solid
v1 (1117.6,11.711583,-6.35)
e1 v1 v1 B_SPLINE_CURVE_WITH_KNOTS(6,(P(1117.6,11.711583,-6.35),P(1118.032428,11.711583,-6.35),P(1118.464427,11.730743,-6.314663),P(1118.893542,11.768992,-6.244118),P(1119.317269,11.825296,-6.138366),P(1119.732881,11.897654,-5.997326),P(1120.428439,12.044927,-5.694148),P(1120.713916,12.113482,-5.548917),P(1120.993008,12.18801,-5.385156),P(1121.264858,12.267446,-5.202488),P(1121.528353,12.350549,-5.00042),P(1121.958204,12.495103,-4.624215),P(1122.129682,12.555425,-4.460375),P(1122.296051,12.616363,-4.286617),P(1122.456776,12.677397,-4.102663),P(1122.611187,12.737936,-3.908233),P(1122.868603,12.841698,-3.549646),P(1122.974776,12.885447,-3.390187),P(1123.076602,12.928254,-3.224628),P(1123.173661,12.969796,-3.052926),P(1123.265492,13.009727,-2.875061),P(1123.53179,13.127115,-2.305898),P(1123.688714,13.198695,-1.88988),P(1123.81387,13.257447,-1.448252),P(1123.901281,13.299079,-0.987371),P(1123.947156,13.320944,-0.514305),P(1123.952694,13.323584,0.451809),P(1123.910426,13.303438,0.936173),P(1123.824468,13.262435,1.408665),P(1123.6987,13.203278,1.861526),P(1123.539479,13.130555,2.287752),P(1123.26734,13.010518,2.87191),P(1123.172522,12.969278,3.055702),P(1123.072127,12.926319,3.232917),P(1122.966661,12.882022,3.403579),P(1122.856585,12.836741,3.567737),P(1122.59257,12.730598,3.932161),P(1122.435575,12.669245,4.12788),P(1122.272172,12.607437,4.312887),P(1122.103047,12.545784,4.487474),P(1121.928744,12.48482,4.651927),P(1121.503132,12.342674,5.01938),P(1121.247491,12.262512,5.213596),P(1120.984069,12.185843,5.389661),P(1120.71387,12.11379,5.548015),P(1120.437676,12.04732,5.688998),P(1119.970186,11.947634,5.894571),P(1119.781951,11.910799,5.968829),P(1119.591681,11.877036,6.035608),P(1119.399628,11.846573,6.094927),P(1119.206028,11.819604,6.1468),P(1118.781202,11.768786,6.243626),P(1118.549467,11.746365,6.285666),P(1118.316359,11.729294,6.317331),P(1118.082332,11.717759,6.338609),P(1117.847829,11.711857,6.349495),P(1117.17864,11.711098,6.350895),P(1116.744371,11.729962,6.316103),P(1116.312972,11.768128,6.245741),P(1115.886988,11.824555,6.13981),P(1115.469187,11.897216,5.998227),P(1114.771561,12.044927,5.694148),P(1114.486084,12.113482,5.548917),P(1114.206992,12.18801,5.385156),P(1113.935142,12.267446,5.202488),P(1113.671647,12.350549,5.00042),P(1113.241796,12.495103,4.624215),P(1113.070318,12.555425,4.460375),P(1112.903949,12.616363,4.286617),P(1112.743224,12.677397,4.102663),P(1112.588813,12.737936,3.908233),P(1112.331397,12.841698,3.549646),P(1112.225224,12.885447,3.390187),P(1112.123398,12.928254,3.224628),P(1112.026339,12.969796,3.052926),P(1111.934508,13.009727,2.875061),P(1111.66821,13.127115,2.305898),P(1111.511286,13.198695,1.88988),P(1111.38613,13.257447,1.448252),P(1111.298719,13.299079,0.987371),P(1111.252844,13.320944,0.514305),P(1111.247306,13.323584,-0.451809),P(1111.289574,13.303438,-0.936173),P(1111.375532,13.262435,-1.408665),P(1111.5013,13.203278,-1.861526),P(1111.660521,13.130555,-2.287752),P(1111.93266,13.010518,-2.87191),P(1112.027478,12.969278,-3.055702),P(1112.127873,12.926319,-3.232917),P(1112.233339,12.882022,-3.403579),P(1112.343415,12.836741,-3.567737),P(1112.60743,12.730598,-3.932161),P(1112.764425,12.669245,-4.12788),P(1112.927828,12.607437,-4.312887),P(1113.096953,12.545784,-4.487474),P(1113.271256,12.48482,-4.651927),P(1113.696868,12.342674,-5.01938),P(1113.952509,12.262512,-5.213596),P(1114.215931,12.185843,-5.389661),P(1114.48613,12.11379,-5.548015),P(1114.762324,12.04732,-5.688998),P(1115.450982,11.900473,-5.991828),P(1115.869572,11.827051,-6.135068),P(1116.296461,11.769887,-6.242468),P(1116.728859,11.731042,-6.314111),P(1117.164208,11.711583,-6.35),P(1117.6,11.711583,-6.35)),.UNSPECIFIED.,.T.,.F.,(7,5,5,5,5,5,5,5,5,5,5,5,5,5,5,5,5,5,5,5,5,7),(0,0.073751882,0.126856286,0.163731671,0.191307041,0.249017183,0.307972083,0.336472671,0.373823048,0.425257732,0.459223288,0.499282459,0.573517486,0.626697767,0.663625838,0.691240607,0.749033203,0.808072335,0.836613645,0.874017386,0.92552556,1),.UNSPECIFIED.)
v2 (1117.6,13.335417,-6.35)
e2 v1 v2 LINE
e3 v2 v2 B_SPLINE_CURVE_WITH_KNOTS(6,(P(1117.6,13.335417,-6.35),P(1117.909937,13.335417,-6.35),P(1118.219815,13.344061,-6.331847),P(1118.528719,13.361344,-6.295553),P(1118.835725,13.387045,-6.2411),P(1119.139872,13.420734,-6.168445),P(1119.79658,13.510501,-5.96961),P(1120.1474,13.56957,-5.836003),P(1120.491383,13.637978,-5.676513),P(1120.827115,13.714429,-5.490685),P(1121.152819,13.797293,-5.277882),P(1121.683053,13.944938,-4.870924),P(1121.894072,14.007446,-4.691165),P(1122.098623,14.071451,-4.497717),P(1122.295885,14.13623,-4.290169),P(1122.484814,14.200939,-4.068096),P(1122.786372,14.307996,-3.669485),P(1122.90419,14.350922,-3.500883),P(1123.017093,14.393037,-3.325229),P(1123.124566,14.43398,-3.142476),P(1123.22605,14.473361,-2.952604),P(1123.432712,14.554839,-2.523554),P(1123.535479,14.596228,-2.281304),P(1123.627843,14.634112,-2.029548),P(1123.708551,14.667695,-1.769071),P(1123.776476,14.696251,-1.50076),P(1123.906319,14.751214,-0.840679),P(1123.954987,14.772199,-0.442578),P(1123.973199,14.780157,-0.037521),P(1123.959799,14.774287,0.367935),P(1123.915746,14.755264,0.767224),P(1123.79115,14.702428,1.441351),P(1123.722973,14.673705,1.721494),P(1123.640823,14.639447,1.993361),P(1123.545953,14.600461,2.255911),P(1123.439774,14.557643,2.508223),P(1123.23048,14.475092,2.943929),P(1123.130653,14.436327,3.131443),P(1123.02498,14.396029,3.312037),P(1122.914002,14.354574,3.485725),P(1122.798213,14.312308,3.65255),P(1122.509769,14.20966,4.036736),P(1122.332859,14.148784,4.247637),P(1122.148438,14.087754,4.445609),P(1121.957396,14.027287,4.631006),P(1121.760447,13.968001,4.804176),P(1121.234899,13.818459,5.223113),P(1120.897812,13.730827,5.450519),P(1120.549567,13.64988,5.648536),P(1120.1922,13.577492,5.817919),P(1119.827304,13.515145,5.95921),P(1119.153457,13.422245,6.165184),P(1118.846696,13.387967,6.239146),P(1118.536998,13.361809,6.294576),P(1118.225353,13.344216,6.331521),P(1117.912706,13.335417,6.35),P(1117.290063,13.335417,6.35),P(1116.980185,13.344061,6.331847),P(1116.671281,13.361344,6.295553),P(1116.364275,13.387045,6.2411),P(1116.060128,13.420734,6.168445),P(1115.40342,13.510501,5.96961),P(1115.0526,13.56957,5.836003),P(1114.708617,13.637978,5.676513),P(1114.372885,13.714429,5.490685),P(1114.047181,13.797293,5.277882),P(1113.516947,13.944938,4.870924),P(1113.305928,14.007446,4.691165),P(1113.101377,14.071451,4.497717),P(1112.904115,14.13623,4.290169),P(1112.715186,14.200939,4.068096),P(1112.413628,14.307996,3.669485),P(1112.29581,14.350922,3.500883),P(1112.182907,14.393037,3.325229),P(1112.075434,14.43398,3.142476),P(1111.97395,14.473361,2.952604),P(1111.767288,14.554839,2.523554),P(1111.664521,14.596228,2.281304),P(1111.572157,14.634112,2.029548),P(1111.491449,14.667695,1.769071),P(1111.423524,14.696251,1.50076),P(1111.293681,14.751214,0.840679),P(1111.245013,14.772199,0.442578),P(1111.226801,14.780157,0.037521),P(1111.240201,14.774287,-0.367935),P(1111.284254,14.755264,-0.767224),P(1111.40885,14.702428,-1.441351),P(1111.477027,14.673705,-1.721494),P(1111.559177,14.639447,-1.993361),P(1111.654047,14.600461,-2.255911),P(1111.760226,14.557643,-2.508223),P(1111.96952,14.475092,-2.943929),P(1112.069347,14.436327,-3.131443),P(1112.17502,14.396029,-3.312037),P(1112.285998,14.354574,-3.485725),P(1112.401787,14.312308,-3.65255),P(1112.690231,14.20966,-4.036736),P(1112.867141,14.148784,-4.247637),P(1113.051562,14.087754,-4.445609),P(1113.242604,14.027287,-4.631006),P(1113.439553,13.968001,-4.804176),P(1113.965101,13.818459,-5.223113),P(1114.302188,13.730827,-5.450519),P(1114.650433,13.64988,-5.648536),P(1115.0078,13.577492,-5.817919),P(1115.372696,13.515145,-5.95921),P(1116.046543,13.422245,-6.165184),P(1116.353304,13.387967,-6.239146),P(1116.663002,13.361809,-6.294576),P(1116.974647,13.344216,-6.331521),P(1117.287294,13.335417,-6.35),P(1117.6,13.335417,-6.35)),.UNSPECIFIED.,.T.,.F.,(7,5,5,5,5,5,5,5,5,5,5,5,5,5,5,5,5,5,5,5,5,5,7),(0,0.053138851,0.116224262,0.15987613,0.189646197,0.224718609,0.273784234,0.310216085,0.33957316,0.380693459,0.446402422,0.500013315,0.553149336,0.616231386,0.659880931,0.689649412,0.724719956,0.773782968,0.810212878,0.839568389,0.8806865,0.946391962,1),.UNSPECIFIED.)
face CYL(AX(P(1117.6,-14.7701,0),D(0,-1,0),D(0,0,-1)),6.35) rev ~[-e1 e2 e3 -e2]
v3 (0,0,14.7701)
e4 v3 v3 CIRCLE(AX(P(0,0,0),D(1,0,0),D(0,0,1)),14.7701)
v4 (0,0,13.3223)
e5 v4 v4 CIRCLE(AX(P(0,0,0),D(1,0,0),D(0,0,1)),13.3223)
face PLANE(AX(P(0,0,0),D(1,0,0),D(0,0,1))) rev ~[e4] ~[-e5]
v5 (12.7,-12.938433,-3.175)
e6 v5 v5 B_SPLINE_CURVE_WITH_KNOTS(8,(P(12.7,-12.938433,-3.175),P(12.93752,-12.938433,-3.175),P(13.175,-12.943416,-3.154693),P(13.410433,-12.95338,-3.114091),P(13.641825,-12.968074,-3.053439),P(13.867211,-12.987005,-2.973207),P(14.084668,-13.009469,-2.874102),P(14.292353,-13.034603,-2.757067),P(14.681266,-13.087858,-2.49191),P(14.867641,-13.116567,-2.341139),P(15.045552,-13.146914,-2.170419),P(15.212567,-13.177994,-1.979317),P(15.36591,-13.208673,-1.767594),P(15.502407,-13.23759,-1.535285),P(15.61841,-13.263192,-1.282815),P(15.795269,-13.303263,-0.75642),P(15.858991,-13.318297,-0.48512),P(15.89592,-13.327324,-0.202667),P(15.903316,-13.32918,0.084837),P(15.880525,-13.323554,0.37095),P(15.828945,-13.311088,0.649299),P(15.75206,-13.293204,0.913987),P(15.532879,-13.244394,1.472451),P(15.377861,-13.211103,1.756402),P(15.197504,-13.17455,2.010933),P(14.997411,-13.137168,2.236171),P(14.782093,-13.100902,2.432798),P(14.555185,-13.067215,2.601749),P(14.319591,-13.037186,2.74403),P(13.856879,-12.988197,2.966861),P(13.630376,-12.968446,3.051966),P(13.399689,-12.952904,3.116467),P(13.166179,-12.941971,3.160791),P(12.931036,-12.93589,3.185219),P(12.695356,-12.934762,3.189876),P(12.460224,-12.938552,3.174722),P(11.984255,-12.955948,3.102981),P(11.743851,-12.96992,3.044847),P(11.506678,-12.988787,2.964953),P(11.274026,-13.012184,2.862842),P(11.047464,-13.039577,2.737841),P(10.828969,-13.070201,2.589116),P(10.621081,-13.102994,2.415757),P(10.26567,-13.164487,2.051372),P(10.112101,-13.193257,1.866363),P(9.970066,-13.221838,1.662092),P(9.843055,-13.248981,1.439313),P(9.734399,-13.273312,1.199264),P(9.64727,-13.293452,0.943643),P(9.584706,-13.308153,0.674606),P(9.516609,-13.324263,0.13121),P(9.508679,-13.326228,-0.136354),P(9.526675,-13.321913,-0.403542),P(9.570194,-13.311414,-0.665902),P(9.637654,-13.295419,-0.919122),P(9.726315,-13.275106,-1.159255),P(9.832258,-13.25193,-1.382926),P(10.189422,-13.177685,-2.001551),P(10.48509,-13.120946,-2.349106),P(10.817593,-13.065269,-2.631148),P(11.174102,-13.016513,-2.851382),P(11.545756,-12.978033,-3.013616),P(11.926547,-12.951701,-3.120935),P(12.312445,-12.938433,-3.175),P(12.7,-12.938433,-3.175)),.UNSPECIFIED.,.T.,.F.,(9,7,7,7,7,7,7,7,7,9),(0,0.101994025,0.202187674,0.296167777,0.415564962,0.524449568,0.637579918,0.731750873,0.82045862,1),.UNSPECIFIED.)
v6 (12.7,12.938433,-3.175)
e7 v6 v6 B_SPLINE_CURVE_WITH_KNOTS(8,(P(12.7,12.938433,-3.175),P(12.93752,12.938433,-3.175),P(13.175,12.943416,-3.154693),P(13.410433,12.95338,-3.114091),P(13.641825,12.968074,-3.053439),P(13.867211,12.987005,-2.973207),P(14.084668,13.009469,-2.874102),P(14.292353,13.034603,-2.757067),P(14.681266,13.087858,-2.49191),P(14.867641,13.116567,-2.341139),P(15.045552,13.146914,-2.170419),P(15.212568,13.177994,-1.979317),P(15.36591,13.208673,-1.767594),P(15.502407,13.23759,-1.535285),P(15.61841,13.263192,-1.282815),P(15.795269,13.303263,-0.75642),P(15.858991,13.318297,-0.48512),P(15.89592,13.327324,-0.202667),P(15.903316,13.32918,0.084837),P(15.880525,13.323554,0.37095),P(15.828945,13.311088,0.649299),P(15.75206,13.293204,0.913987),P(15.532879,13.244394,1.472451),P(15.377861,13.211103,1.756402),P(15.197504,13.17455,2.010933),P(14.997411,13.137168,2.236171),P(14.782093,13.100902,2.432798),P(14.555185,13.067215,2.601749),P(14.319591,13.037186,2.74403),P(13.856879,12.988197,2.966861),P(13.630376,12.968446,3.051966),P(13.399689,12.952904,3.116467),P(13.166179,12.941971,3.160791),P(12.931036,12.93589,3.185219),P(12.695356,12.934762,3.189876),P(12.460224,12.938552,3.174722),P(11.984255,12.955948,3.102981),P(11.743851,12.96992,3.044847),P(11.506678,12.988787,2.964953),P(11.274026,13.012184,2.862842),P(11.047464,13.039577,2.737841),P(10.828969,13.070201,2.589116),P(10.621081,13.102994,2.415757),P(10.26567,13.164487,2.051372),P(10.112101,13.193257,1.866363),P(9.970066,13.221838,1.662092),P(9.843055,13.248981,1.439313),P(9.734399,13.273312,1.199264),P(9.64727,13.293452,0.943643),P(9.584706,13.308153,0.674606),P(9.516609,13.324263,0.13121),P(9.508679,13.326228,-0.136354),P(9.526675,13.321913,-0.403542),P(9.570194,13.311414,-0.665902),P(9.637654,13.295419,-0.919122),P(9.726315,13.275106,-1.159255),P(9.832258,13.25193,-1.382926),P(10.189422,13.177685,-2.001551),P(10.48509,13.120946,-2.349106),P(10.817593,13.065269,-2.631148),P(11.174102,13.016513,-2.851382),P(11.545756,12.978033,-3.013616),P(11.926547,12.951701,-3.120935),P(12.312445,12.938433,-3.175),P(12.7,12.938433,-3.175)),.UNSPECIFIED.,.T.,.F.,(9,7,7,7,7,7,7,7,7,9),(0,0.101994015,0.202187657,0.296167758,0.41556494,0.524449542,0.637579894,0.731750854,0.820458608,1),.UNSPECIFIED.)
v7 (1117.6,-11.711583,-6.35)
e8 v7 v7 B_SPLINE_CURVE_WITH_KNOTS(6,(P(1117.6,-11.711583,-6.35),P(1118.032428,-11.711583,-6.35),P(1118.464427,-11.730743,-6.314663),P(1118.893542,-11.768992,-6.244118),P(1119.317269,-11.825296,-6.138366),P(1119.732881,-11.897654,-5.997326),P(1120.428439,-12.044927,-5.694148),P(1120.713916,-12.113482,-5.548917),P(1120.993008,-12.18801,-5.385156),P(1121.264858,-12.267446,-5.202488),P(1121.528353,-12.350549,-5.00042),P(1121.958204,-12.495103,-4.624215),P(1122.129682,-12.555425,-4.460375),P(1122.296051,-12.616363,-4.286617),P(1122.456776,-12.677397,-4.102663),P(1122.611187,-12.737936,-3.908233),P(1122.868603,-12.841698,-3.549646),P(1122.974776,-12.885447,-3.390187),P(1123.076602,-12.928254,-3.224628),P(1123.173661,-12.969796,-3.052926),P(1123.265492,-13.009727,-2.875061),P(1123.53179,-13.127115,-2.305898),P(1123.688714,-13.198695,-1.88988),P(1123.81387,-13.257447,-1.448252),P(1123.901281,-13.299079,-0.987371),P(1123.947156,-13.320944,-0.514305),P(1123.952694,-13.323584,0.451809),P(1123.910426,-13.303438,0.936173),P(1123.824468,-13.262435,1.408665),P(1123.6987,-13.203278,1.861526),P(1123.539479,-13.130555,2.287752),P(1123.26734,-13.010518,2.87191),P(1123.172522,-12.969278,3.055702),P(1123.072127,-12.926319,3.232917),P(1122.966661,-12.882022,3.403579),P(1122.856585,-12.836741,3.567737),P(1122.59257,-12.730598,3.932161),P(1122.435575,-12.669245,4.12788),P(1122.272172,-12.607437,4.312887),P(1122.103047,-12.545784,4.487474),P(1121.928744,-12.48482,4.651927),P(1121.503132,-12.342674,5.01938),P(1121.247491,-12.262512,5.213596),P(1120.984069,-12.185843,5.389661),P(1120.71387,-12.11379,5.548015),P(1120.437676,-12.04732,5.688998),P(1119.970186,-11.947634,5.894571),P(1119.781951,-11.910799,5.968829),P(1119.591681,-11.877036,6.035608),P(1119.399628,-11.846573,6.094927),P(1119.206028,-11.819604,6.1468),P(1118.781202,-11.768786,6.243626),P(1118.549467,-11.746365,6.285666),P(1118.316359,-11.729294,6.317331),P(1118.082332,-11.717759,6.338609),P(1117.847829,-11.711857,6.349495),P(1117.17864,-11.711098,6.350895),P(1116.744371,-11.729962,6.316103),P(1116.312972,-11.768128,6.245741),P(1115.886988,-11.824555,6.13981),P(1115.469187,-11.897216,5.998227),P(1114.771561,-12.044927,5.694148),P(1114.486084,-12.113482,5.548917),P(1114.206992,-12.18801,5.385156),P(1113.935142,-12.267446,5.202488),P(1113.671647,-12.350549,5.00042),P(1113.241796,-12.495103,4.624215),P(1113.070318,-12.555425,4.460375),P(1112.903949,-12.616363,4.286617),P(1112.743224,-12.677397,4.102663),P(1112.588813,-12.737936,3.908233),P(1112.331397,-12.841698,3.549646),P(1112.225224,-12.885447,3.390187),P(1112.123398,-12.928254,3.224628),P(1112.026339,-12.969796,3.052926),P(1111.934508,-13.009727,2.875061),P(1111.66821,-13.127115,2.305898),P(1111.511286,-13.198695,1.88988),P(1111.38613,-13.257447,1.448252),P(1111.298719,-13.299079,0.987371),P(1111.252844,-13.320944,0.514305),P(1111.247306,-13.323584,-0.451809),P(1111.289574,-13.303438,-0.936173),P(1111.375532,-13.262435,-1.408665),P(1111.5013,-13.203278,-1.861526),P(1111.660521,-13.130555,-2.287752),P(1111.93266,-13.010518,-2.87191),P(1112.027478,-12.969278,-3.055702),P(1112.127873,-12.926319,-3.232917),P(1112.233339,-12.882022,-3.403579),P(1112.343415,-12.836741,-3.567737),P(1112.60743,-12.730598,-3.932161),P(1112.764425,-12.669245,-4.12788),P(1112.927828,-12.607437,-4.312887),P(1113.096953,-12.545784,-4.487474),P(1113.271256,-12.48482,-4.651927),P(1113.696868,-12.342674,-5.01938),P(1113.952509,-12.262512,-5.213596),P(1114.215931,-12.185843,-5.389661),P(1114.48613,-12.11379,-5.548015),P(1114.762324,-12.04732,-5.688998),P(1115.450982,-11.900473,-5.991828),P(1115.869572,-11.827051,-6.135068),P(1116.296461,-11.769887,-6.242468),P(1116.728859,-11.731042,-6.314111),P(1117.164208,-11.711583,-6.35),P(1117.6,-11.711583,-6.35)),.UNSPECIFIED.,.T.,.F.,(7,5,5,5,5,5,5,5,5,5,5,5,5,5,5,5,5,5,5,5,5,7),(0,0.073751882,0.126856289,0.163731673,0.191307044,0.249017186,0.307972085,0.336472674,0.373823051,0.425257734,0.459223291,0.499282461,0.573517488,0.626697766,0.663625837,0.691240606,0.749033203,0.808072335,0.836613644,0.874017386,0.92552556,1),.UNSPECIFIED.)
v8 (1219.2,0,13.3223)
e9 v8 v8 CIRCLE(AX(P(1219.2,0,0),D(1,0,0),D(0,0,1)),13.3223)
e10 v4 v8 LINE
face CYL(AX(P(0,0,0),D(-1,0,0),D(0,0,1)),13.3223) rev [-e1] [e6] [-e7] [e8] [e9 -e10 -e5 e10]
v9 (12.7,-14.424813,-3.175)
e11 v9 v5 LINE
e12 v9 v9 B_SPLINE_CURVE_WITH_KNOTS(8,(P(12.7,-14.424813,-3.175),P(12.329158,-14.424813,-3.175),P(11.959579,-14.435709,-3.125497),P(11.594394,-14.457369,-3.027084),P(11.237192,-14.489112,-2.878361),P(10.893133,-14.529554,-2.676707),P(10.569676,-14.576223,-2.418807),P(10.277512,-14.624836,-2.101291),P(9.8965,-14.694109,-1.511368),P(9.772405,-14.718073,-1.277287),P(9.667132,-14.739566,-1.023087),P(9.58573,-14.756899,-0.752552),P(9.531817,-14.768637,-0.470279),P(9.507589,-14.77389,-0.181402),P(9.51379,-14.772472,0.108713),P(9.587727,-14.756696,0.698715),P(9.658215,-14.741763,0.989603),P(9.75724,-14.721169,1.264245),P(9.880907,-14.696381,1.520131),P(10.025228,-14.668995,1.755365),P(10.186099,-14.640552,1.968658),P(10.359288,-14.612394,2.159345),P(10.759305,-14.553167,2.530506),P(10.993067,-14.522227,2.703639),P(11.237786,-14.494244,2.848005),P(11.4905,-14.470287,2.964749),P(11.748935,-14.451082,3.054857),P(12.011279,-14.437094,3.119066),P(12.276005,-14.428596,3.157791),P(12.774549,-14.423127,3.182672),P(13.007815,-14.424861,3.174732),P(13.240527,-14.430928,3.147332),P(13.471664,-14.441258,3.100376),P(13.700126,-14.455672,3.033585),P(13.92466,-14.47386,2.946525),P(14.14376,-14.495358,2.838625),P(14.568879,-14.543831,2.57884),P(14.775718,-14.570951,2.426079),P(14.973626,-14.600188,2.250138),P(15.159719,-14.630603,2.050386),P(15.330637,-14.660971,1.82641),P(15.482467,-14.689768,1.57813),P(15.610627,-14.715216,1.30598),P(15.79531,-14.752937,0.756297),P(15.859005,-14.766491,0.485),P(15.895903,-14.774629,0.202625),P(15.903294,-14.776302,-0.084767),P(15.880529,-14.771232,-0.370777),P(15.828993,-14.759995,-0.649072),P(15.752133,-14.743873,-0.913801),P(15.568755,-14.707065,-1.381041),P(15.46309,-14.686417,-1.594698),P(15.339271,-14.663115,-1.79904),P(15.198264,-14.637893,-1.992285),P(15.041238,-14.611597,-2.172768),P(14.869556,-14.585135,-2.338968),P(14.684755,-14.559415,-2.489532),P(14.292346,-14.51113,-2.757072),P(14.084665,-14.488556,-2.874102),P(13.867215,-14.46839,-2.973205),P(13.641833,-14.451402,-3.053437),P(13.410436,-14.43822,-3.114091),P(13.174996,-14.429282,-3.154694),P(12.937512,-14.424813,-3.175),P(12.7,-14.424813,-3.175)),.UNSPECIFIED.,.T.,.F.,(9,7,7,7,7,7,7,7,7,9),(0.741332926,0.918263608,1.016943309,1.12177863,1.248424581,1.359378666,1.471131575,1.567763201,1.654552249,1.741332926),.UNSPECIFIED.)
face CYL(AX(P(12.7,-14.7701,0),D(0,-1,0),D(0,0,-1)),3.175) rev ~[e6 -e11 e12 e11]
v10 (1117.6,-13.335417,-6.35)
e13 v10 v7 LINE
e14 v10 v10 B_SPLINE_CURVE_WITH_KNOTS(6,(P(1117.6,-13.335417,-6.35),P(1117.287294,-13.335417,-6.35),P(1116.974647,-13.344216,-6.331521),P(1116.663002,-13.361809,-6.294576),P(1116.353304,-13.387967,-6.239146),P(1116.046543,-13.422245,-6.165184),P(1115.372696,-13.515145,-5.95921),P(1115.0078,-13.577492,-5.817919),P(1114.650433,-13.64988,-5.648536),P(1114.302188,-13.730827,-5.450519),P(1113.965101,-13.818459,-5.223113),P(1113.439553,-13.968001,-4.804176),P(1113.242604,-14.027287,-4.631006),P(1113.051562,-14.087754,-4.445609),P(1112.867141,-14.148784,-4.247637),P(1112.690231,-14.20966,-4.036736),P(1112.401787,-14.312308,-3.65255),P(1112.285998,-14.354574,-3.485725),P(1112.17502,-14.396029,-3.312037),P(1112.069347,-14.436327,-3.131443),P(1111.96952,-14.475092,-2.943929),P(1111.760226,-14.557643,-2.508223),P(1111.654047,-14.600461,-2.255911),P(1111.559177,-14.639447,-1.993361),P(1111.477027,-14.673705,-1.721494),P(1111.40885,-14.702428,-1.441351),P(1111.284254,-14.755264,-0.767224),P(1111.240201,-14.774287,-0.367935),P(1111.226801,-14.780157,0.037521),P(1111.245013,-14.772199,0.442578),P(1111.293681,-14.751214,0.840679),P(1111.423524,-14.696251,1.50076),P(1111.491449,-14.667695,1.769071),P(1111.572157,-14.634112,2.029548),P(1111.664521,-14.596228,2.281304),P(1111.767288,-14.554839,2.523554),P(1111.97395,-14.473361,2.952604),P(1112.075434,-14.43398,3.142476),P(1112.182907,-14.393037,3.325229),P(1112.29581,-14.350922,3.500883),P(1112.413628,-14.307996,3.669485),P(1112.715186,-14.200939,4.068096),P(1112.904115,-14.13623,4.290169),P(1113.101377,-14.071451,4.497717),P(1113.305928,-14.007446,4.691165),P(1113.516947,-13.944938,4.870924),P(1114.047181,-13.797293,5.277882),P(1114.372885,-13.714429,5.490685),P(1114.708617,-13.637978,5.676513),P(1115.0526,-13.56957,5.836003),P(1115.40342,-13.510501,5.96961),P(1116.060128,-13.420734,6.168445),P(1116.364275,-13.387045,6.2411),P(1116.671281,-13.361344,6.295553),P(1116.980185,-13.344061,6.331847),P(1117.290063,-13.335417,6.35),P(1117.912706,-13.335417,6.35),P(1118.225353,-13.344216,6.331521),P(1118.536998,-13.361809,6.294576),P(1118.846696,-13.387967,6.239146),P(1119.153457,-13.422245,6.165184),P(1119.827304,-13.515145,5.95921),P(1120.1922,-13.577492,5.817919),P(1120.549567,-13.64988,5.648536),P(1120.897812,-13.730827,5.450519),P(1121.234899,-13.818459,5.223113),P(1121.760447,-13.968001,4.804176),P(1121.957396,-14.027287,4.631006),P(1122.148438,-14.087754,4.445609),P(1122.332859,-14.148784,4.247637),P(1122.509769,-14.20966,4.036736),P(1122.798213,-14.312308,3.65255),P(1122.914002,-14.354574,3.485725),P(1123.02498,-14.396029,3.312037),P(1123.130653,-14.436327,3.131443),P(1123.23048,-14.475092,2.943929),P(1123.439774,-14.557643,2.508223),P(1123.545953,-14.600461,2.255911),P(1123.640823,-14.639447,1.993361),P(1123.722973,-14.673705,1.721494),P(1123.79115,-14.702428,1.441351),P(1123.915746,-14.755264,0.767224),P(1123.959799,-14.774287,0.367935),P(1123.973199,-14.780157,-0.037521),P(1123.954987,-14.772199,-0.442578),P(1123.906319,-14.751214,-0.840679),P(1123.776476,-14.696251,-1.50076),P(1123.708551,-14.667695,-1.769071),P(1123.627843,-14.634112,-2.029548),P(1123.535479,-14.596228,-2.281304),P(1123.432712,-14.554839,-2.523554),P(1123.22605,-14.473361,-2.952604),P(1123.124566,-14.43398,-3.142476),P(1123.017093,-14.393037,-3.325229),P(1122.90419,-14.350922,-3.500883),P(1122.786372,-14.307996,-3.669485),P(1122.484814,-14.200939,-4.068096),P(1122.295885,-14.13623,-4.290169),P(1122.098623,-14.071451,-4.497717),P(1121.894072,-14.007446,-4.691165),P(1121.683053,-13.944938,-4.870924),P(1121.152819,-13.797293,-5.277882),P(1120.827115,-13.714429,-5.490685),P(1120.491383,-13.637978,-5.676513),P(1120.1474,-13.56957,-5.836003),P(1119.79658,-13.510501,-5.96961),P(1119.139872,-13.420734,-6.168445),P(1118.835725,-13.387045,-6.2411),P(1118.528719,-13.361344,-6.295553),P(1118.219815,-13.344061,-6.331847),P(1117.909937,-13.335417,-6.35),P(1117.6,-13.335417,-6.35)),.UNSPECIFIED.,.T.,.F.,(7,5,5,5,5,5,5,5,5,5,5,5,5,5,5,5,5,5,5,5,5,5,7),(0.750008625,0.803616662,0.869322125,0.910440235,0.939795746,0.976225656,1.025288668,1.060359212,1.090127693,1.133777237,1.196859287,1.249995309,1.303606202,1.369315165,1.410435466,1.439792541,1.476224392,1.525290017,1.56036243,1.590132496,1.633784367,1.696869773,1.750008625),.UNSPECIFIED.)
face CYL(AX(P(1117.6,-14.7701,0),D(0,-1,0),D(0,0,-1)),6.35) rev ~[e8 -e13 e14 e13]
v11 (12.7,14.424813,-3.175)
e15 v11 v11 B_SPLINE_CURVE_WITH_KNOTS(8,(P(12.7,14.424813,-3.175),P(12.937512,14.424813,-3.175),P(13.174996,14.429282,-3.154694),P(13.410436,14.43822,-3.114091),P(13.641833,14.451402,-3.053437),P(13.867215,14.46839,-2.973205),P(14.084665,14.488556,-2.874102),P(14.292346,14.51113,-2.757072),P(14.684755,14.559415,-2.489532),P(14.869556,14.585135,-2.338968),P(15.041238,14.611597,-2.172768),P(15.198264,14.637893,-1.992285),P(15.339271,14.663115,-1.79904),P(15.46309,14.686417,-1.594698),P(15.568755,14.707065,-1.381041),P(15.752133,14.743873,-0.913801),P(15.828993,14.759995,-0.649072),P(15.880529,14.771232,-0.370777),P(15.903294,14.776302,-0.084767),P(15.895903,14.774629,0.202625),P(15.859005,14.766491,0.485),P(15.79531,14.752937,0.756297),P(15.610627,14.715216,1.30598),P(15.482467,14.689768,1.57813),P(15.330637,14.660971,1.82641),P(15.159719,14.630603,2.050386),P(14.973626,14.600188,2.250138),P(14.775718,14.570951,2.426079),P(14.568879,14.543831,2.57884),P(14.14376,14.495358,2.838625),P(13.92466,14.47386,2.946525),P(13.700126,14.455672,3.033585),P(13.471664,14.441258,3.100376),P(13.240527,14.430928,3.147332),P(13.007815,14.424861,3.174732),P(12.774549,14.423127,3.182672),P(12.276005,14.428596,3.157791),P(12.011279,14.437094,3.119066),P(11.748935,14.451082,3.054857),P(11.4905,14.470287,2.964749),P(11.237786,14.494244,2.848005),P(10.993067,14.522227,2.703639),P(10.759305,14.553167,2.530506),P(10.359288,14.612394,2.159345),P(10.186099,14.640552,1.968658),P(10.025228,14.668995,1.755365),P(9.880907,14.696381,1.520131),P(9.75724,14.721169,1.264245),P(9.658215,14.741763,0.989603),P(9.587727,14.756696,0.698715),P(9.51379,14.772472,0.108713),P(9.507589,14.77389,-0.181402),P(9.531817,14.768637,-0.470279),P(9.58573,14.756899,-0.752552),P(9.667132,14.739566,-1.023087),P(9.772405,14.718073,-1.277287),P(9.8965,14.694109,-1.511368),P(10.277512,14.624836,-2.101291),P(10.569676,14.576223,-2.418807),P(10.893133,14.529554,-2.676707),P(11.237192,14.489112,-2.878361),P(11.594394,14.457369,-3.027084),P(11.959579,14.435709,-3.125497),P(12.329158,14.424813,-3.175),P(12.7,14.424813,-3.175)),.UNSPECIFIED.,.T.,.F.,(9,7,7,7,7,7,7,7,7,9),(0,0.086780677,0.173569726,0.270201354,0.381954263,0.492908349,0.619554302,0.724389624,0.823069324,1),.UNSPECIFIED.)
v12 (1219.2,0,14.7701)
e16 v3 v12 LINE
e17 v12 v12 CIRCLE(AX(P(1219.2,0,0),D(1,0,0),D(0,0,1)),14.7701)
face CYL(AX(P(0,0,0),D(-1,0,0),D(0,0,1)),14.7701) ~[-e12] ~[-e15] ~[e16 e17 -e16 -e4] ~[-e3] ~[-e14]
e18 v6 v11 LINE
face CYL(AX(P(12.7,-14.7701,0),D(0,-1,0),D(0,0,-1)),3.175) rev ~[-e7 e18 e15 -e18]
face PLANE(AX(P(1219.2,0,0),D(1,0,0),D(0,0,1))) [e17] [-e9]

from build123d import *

# Parameters (mm, degrees)
SKETCH3_R           = 14.7701
SKETCH3_R_2         = 13.3223
BOSS_EXTRUDE1_DEPTH = 1219.2
SKETCH6_R           = 6.35
SKETCH6_R_2         = 3.175
CUT_EXTRUDE2_DEPTH  = 1220.647251983


with BuildPart() as part:
    # Sketch3 → Boss-Extrude1 (new body)
    with BuildSketch(Plane(origin=(0, 0, 0), x_dir=(0, 0, -1), z_dir=(1, 0, 0))):
        with Locations(Location((0, 0, 0), (0, 0, 180))):
            Circle(SKETCH3_R)
        with Locations(Location((0, 0, 0), (0, 0, 180))):
            Circle(SKETCH3_R_2, mode=Mode.SUBTRACT)
    extrude(amount=BOSS_EXTRUDE1_DEPTH)

    # Sketch6 → Cut-Extrude2 (cut, through all)
    with BuildSketch(Plane(origin=(0, -14.7701, 0), x_dir=(-1, 0, 0), z_dir=(0, -1, 0))):
        with Locations(Location((-1117.6, 0, 0), (0, 0, 90))):
            Circle(SKETCH6_R)
        with Locations(Location((-12.7, 0, 0), (0, 0, 90))):
            Circle(SKETCH6_R_2)
    extrude(amount=-CUT_EXTRUDE2_DEPTH, mode=Mode.SUBTRACT)


solid = part.part
